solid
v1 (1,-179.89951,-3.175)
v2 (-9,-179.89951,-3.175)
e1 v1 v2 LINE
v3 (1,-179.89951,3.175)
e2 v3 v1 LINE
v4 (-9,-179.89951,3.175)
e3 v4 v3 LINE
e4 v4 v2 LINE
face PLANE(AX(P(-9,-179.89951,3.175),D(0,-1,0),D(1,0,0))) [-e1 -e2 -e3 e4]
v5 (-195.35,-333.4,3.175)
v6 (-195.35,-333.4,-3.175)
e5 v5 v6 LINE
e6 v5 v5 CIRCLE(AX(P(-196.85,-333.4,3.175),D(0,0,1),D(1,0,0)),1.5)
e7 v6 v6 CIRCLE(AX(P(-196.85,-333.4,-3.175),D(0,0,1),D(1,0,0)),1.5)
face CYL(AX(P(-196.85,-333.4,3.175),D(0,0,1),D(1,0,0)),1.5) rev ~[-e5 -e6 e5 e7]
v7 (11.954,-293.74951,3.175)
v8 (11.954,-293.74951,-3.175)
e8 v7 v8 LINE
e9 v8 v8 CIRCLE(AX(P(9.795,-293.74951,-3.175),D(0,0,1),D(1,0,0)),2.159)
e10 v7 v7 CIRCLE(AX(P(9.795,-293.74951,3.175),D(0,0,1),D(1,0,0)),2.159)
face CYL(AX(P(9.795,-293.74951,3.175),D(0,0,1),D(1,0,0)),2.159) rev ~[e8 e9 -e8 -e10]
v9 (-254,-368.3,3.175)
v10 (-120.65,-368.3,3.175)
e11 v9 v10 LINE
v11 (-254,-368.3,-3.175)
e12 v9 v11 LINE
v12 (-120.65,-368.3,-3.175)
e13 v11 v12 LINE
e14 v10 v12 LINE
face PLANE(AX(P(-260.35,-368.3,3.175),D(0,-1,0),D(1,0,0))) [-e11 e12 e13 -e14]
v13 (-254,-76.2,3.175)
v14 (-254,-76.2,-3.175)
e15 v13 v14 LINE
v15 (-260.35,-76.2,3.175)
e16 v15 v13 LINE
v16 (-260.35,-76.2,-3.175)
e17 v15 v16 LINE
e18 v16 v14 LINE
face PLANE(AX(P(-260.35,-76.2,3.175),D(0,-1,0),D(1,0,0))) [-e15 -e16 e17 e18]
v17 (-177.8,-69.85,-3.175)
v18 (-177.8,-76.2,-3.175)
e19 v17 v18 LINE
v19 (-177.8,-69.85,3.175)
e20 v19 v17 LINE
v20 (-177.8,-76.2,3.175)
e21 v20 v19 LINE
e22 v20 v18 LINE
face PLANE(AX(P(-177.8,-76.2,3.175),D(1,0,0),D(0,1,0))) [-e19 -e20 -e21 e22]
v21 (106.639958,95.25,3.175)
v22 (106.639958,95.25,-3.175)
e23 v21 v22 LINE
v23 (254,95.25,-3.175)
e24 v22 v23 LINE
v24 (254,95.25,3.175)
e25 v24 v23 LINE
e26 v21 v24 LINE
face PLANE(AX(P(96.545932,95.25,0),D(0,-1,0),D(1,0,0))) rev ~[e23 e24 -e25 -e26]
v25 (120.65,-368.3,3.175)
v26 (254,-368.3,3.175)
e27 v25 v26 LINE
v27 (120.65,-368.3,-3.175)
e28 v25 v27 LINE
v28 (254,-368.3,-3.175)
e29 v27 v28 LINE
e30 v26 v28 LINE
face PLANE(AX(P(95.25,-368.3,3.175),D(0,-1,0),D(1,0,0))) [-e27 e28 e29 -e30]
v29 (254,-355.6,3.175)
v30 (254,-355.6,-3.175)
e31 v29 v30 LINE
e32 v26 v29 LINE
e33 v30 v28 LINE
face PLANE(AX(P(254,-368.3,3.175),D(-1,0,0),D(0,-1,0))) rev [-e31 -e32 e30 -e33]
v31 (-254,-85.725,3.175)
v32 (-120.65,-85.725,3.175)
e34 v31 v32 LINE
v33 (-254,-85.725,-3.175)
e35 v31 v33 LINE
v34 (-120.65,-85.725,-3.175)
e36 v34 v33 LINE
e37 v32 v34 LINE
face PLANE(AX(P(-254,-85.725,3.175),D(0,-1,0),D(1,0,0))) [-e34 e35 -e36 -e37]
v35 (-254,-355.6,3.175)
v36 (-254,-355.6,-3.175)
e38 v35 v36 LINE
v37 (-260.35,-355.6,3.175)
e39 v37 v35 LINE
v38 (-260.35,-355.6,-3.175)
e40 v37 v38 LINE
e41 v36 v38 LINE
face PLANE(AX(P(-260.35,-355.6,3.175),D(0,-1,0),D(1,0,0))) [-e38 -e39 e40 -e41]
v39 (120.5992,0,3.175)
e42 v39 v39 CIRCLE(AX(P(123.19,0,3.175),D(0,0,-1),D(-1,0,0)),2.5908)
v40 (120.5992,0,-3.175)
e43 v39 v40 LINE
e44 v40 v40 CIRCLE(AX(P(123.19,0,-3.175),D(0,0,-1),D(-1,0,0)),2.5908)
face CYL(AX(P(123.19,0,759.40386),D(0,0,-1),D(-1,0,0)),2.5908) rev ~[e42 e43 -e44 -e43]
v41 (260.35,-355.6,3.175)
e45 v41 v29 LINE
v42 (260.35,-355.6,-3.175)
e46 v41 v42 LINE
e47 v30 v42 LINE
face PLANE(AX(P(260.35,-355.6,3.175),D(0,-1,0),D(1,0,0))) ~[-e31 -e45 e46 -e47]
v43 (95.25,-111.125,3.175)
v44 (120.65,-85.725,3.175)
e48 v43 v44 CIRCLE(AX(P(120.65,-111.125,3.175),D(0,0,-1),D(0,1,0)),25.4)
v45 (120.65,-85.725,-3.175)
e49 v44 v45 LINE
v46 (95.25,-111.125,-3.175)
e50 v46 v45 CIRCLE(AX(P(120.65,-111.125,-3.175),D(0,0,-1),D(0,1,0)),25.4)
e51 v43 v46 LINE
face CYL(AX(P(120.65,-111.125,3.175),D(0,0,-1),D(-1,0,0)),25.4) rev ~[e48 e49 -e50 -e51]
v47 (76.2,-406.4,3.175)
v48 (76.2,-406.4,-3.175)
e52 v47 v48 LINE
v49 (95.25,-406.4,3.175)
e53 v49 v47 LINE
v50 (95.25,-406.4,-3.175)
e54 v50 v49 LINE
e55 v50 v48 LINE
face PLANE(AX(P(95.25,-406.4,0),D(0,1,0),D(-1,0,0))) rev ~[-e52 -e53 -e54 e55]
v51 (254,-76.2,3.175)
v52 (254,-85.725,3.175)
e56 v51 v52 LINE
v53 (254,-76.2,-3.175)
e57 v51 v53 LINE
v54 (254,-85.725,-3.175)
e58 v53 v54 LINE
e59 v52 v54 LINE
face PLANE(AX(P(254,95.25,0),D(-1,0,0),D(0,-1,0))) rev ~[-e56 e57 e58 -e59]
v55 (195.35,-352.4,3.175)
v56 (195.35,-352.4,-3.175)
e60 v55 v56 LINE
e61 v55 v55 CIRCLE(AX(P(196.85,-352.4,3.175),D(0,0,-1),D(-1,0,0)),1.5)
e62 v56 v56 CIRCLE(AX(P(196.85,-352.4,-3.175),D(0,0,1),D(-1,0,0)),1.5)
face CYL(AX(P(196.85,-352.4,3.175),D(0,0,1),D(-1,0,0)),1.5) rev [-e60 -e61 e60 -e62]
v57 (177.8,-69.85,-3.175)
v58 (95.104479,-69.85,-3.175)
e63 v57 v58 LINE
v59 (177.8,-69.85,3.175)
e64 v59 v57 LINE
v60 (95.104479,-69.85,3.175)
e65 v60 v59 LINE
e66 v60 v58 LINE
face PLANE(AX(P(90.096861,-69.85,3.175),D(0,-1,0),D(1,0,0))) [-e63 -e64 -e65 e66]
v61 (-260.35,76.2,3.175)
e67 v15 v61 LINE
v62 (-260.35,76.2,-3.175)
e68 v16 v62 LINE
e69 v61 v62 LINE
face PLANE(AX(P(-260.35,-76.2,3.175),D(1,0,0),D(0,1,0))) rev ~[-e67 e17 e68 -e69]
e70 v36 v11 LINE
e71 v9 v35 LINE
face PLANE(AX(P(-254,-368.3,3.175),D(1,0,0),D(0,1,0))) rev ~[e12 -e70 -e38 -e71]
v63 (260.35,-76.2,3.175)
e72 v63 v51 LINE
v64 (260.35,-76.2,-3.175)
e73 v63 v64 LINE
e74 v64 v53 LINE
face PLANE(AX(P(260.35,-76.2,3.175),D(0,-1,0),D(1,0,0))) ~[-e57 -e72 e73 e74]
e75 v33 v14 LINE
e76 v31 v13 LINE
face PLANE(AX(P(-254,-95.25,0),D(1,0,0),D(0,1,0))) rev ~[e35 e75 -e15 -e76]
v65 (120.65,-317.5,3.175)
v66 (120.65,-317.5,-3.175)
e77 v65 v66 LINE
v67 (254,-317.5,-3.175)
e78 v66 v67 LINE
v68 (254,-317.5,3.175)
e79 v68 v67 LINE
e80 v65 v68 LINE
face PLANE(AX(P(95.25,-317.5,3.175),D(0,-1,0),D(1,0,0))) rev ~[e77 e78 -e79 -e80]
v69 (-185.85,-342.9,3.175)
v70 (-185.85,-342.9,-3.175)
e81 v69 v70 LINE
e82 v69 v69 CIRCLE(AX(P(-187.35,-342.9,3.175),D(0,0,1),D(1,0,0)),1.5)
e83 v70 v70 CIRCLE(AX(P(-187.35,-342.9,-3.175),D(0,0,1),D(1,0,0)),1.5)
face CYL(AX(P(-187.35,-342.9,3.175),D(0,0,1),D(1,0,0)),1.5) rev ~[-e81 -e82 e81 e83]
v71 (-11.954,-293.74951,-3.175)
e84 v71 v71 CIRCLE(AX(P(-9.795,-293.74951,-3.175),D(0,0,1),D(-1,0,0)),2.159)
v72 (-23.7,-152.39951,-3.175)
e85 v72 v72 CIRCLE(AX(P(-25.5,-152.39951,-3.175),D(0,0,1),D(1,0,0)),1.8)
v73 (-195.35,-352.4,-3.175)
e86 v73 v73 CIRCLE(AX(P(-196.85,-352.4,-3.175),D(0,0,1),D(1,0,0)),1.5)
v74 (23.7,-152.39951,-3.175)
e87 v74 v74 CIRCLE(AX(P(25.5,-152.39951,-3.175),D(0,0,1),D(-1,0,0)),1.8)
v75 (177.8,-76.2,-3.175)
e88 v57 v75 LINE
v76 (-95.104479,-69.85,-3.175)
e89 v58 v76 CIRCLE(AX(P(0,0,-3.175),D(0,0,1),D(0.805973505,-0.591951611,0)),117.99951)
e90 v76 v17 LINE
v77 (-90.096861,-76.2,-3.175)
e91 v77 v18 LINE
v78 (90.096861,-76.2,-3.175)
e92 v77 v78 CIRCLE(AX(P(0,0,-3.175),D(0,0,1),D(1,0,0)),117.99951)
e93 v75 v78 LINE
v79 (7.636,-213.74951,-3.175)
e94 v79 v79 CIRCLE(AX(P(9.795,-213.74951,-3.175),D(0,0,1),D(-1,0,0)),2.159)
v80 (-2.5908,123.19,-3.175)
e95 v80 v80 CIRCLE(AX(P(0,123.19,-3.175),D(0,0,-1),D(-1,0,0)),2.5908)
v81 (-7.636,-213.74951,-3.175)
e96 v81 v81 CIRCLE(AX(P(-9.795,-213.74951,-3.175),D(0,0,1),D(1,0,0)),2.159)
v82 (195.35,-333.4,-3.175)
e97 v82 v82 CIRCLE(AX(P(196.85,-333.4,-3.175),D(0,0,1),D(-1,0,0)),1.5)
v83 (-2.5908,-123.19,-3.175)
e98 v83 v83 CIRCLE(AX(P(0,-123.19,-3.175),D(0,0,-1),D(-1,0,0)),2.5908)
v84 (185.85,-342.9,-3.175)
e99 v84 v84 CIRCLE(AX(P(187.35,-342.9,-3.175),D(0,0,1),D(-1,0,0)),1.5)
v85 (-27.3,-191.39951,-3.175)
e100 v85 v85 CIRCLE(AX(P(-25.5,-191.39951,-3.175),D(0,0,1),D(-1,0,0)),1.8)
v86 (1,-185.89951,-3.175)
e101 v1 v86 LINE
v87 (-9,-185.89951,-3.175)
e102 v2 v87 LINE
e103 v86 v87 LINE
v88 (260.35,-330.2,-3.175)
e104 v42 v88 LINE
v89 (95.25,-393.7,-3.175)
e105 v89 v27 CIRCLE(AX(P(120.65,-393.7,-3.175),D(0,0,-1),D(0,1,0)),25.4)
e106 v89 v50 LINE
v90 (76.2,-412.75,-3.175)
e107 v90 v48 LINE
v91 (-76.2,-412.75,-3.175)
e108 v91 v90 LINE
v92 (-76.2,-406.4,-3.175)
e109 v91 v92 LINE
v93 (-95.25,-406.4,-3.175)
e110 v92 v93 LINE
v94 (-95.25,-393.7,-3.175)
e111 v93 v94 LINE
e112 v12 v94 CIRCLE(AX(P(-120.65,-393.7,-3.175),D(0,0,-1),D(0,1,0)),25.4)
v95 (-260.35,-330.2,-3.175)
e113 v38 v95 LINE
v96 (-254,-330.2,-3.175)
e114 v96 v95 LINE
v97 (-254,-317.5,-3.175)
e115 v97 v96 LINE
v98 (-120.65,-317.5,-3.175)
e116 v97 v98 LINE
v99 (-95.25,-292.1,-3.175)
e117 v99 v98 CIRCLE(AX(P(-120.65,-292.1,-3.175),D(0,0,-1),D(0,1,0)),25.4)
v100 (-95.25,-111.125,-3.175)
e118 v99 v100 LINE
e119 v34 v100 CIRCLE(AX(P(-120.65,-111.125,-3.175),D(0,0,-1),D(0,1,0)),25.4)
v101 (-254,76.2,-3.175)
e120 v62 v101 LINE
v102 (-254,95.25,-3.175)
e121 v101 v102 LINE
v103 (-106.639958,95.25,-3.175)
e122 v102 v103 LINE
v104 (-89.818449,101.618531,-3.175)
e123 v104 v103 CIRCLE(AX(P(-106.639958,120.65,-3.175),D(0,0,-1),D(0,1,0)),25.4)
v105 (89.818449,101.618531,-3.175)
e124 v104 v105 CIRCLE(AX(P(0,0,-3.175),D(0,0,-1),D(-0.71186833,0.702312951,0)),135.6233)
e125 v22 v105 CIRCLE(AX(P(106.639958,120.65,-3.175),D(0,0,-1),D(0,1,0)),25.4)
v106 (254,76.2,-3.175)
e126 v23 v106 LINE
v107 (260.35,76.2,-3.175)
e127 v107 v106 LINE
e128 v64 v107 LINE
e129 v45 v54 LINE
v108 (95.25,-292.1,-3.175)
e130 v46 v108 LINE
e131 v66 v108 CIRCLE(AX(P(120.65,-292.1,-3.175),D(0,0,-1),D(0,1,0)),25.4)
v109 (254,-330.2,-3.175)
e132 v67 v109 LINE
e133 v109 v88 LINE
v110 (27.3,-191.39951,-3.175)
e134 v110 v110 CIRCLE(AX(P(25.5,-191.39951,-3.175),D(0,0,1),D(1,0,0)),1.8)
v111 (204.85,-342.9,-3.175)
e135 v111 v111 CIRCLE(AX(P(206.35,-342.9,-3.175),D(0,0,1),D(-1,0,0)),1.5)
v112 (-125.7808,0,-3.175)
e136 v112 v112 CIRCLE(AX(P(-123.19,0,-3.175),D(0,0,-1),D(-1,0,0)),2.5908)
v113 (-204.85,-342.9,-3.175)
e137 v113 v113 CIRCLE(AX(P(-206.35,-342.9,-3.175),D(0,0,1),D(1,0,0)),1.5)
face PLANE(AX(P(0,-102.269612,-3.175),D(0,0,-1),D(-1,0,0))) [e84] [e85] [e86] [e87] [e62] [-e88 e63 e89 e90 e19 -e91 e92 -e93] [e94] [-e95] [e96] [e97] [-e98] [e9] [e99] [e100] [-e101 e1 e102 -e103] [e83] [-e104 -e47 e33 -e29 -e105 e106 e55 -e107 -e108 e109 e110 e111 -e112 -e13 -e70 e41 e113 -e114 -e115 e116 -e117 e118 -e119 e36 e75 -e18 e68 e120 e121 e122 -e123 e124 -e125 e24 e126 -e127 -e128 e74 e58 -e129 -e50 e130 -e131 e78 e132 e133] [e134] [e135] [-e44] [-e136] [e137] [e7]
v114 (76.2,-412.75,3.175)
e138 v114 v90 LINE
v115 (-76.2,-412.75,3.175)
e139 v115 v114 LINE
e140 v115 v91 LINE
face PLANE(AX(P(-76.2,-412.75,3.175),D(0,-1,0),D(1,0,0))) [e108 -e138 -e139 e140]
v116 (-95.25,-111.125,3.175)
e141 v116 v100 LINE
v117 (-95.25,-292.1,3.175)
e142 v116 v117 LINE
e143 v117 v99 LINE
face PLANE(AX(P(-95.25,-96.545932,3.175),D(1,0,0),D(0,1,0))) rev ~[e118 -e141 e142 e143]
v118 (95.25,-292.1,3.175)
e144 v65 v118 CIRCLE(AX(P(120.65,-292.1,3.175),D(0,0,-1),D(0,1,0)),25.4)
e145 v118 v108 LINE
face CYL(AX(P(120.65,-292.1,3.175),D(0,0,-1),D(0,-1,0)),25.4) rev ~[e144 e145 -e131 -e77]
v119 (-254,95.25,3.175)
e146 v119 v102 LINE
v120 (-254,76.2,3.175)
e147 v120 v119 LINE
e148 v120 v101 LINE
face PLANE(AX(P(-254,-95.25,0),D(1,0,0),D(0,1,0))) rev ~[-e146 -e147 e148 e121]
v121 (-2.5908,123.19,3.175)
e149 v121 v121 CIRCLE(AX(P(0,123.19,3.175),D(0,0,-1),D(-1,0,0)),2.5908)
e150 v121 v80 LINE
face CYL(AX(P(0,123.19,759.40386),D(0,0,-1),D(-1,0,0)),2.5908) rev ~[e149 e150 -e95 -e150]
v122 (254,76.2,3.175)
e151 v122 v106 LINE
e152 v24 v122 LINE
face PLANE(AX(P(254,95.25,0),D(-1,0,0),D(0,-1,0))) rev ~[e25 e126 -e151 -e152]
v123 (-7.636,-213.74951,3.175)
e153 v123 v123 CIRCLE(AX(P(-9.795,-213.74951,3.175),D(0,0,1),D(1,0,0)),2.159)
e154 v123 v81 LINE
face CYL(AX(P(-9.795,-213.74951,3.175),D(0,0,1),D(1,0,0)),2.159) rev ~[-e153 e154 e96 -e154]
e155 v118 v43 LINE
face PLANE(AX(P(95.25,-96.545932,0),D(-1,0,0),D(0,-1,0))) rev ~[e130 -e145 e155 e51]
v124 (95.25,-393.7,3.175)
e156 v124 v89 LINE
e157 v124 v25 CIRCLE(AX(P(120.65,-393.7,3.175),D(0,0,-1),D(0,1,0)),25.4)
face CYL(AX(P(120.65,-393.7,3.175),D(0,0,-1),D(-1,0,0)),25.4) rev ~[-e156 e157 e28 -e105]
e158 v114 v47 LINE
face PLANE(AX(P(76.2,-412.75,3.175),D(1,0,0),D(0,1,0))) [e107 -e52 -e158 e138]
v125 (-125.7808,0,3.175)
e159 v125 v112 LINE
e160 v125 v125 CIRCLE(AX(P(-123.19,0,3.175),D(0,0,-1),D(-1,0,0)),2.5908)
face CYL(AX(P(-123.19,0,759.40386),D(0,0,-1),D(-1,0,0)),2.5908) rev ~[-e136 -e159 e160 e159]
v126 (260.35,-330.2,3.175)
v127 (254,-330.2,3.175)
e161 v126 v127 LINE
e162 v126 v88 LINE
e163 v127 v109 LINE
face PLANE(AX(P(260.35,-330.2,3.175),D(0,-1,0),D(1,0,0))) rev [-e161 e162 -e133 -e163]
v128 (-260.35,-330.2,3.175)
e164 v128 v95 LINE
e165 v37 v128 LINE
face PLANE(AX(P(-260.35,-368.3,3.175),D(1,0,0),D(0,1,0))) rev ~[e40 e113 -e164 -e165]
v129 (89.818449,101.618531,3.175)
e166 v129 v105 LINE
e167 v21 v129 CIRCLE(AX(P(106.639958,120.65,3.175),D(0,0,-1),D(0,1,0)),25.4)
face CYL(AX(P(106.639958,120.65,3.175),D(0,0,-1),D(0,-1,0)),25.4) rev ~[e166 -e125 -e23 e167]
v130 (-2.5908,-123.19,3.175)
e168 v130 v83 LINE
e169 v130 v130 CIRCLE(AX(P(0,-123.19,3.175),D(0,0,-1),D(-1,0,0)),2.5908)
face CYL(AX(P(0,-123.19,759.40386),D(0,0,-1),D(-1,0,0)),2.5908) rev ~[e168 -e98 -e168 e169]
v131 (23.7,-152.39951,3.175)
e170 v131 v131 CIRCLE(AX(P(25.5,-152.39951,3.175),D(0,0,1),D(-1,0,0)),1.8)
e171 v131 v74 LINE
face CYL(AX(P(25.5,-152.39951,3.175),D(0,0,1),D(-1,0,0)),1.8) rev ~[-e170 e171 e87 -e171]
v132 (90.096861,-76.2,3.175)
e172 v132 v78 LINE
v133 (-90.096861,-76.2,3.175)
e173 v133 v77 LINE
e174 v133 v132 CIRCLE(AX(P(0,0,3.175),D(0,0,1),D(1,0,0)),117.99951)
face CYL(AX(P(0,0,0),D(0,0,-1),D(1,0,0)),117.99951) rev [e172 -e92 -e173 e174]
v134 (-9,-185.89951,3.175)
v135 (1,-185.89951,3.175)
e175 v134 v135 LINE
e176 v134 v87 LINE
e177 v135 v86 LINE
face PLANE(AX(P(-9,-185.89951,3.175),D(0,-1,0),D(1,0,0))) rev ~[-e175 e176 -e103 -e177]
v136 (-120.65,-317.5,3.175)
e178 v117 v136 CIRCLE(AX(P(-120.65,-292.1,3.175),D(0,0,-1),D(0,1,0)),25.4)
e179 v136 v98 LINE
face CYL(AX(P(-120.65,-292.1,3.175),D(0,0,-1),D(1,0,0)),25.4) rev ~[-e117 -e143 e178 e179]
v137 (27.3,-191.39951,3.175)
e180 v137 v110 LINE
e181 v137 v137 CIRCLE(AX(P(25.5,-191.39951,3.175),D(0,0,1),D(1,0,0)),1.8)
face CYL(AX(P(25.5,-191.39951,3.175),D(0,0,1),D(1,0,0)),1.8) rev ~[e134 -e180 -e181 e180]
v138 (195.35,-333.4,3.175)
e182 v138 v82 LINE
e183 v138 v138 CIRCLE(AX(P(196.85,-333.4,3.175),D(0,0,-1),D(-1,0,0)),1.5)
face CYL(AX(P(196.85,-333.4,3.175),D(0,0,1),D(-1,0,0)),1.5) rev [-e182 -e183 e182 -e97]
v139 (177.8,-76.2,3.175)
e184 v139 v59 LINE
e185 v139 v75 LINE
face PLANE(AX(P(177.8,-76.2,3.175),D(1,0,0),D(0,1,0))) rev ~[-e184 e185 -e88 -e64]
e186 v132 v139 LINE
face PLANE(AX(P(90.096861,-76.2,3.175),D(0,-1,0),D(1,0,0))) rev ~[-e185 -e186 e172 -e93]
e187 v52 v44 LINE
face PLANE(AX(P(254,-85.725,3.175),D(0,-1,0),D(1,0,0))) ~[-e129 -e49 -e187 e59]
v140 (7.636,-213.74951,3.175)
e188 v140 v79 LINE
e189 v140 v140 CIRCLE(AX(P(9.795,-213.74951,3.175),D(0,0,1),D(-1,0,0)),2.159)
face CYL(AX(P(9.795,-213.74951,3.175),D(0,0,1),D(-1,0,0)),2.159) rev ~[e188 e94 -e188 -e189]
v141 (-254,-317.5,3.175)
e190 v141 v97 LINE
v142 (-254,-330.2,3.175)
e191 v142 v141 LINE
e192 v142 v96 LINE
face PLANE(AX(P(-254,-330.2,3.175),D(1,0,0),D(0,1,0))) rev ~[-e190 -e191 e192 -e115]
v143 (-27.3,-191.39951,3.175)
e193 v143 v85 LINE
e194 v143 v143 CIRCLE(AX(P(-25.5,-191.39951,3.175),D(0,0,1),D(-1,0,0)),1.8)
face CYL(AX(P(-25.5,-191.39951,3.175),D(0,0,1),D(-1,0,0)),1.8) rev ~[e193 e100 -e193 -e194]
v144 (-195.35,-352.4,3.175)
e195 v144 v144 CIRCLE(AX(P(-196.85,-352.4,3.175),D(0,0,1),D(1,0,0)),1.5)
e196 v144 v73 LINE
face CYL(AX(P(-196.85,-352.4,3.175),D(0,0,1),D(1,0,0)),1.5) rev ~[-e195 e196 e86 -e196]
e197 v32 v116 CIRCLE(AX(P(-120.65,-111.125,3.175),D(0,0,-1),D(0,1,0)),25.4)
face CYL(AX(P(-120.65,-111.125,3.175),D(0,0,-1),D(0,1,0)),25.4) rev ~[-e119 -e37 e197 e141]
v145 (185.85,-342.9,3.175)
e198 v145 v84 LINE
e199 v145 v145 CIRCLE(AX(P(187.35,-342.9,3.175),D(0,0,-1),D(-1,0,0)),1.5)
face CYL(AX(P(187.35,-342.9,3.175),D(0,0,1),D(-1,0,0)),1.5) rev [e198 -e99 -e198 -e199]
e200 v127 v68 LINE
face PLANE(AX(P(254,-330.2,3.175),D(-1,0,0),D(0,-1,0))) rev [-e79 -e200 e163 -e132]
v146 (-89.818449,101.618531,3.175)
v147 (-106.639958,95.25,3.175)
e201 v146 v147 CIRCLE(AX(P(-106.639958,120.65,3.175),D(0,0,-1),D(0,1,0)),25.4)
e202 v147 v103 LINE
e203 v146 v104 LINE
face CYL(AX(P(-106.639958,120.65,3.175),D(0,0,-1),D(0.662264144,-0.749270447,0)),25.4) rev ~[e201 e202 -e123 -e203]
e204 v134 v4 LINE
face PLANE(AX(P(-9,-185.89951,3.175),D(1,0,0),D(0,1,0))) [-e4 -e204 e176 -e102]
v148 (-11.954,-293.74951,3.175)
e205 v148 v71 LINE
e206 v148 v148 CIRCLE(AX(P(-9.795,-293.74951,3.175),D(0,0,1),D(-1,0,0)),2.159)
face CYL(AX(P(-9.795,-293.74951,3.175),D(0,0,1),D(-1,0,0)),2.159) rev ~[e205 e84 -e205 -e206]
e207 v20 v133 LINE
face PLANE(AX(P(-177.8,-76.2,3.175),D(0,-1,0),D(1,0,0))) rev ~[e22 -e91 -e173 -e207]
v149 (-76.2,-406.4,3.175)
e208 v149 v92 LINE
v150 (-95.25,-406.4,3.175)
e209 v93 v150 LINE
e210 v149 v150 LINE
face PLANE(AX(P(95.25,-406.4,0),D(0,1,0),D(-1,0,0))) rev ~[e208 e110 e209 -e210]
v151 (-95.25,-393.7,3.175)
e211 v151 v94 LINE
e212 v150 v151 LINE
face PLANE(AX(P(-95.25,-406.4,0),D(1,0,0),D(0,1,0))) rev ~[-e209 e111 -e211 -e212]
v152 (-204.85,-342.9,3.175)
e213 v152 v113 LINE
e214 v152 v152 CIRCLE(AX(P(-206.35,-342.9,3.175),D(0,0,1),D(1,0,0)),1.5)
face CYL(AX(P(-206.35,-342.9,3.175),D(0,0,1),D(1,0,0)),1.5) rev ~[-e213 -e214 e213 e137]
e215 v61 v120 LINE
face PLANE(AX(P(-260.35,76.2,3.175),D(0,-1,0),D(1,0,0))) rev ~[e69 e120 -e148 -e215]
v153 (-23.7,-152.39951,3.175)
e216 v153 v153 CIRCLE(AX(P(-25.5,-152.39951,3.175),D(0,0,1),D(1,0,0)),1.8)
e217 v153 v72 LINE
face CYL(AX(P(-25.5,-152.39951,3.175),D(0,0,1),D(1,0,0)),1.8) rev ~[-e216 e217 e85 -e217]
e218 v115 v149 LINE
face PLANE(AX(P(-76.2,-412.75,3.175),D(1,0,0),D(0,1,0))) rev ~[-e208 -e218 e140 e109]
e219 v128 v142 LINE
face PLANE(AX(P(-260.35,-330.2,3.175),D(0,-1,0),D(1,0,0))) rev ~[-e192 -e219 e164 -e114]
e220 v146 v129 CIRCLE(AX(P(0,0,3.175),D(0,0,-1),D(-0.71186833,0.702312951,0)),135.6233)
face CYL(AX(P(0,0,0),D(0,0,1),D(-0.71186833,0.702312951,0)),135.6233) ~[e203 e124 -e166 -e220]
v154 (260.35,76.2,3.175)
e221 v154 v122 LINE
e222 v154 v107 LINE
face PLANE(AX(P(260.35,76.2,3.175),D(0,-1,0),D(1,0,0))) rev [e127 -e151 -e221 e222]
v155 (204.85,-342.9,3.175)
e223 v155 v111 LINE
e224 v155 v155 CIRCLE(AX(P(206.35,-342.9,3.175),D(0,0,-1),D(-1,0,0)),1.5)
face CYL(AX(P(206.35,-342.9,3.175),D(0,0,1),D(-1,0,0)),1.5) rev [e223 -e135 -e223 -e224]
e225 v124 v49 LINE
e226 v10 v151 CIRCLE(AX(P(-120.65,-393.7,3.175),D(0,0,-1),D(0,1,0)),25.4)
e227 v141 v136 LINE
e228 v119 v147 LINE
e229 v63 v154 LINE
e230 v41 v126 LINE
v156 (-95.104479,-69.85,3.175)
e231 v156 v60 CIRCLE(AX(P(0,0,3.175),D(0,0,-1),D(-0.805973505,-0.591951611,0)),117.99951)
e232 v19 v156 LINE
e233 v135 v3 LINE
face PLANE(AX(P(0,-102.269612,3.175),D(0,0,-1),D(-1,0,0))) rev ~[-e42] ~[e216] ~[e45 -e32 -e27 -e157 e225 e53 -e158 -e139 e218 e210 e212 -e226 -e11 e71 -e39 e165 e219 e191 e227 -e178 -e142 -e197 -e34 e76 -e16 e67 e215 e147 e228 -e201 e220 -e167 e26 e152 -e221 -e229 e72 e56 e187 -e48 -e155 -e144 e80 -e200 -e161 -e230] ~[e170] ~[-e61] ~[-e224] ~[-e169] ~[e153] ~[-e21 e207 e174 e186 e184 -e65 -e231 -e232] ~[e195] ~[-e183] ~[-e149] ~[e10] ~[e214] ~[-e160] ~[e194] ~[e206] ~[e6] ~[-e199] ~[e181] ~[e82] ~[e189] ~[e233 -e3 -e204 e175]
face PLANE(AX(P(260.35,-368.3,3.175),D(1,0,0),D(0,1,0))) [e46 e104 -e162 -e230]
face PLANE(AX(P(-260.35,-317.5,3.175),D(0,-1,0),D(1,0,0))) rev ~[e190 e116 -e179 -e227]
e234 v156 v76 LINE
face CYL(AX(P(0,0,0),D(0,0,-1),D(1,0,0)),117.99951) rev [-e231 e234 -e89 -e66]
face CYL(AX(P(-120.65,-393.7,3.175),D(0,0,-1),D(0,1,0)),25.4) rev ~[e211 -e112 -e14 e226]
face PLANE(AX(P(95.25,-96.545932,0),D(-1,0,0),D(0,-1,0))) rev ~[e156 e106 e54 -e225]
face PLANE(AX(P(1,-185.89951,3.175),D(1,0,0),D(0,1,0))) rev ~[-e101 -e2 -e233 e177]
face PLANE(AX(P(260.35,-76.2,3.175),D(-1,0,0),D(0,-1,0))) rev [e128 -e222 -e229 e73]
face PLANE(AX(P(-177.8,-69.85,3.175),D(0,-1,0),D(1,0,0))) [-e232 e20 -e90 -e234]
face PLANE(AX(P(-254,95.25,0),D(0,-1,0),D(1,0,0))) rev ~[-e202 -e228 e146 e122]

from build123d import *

# Parameters (mm, degrees)
MAIN_BODY_SKETCH_R     = 117.99951
MAIN_BODY_DEPTH        = 3.175
TABS_SKETCH_W          = 6.35
TABS_SKETCH_H          = 152.4
TABS_SKETCH_W_2        = 152.4
TABS_SKETCH_H_2        = 6.35
OUTSIDE_TABS_DEPTH     = 6.35
F_6_0_204_TUBE_MOUNT_D = 5.1816
SKETCH12_W             = 165.1
SKETCH12_H             = 50.8
BOSS_EXTRUDE1_DEPTH    = 6.35
SKETCH13_R             = 1.5
CUT_EXTRUDE1_DEPTH     = 489.042014073
SKETCH14_W             = 6.35
SKETCH14_H             = 12.7
CUT_EXTRUDE2_DEPTH     = 489.042014073
SKETCH15_W             = 87.70313901
SKETCH15_H             = 6.35
CUT_EXTRUDE3_DEPTH     = 489.042014073
SKETCH16_R             = 1.8
SKETCH16_R_2           = 2.159
SKETCH16_W             = 10
SKETCH16_H             = 6
CUT_EXTRUDE4_DEPTH     = 489.042014073
SKETCH18_W             = 158.75
SKETCH18_H             = 10.820932089
CUT_EXTRUDE6_DEPTH     = 489.042014073
FILLET1_R              = 25.4


with BuildPart() as part:
    # Main Body Sketch → Main Body (new, symmetric)
    with BuildSketch(Plane.XY):
        with BuildLine():
            Line((-96.545932089, -95.25), (-254, -95.25))
            Line((-254, -95.25), (-254, 95.25))
            Line((-254, 95.25), (-96.545932089, 95.25))
            ThreePointArc((-96.545932089, 95.25), (0, 135.6233), (96.545932089, 95.25))
            Line((96.545932089, 95.25), (254, 95.25))
            Line((254, 95.25), (254, -95.25))
            Line((254, -95.25), (96.545932089, -95.25))
            ThreePointArc((96.545932089, -95.25), (95.900155117, -95.900155117), (95.25, -96.545932089))
            Line((95.25, -96.545932089), (95.25, -406.4))
            Line((95.25, -406.4), (-95.25, -406.4))
            Line((-95.25, -406.4), (-95.25, -96.545932089))
            ThreePointArc((-95.25, -96.545932089), (-95.900155117, -95.900155117), (-96.545932089, -95.25))
        make_face()
        Circle(MAIN_BODY_SKETCH_R, mode=Mode.SUBTRACT)
    extrude(amount=MAIN_BODY_DEPTH, both=True)

    # Tabs Sketch → Outside Tabs (add)
    with BuildSketch(Plane.XY.offset(3.175)):
        with Locations((-257.175, 0)):
            Rectangle(TABS_SKETCH_W, TABS_SKETCH_H)
        with Locations((0, -409.575)):
            Rectangle(TABS_SKETCH_W_2, TABS_SKETCH_H_2)
    outside_tabs = extrude(amount=-OUTSIDE_TABS_DEPTH)

    # Outside Tabs Mirror: Outside Tabs across plane
    add(outside_tabs.mirror(Plane(origin=(0, 0, 0), x_dir=(0, 0, 1), z_dir=(1, 0, 0))))

    # #6 (0.204) Tube Mount (through all)
    with Locations(Plane.XY.offset(3.175)):
        with Locations((0, -123.19), (123.19, 0), (0, 123.19), (-123.19, 0)):
            Hole(F_6_0_204_TUBE_MOUNT_D / 2)

    # Sketch12 → Boss-Extrude1 (add)
    with BuildSketch(Plane.XY.offset(3.175)):
        with Locations((-177.8, -342.9)):
            Rectangle(SKETCH12_W, SKETCH12_H)
        with Locations((177.8, -342.9)):
            Rectangle(SKETCH12_W, SKETCH12_H)
    extrude(amount=-BOSS_EXTRUDE1_DEPTH)

    # Sketch13 → Cut-Extrude1 (cut, through all)
    with BuildSketch(Plane.XY.offset(3.175)):
        with Locations((-196.85, -333.4)):
            Circle(SKETCH13_R)
        with Locations((-187.35, -342.9)):
            Circle(SKETCH13_R)
        with Locations((-196.85, -352.4)):
            Circle(SKETCH13_R)
        with Locations((-206.35, -342.9)):
            Circle(SKETCH13_R)
    cut_extrude1 = extrude(amount=-CUT_EXTRUDE1_DEPTH, mode=Mode.SUBTRACT)

    # Mirror2: Cut-Extrude1 across plane
    add(cut_extrude1.mirror(Plane(origin=(0, 0, 0), x_dir=(0, 0, 1), z_dir=(1, 0, 0))), mode=Mode.SUBTRACT)

    # Sketch14 → Cut-Extrude2 (cut, through all)
    with BuildSketch(Plane.XY.offset(3.175)):
        with Locations((-257.175, -323.85)):
            Rectangle(SKETCH14_W, SKETCH14_H)
        with Locations((-257.175, -361.95)):
            Rectangle(SKETCH14_W, SKETCH14_H)
    cut_extrude2 = extrude(amount=-CUT_EXTRUDE2_DEPTH, mode=Mode.SUBTRACT)

    # Mirror3: Cut-Extrude2 across plane
    add(cut_extrude2.mirror(Plane(origin=(0, 0, 0), x_dir=(0, 0, 1), z_dir=(1, 0, 0))), mode=Mode.SUBTRACT)

    # Sketch15 → Cut-Extrude3 (cut, through all)
    with BuildSketch(Plane.XY.offset(3.175)):
        with Locations((-133.948430495, -73.025)):
            Rectangle(SKETCH15_W, SKETCH15_H)
        with Locations((133.948430495, -73.025)):
            Rectangle(SKETCH15_W, SKETCH15_H)
    extrude(amount=-CUT_EXTRUDE3_DEPTH, mode=Mode.SUBTRACT)

    # Sketch16 → Cut-Extrude4 (cut, through all)
    with BuildSketch(Plane.XY.offset(3.175)):
        with Locations((-25.5, -152.39951)):
            Circle(SKETCH16_R)
        with Locations(Location((-25.5, -191.39951, 0), (0, 0, 180))):
            Circle(SKETCH16_R)
        with Locations((25.5, -191.39951)):
            Circle(SKETCH16_R)
        with Locations(Location((25.5, -152.39951, 0), (0, 0, 180))):
            Circle(SKETCH16_R)
        with Locations((-9.795, -213.74951)):
            Circle(SKETCH16_R_2)
        with Locations(Location((-9.795, -293.74951, 0), (0, 0, 180))):
            Circle(SKETCH16_R_2)
        with Locations(Location((9.795, -213.74951, 0), (0, 0, 180))):
            Circle(SKETCH16_R_2)
        with Locations((9.795, -293.74951)):
            Circle(SKETCH16_R_2)
        with Locations((-4, -182.89951)):
            Rectangle(SKETCH16_W, SKETCH16_H)
    extrude(amount=-CUT_EXTRUDE4_DEPTH, mode=Mode.SUBTRACT)

    # Sketch18 → Cut-Extrude6 (cut, through all)
    with BuildSketch(Plane.XY.offset(3.175)):
        with Locations((-174.625, -91.135466045)):
            Rectangle(SKETCH18_W, SKETCH18_H)
    cut_extrude6 = extrude(amount=-CUT_EXTRUDE6_DEPTH, mode=Mode.SUBTRACT)

    # Mirror4: Cut-Extrude6 across plane
    add(cut_extrude6.mirror(Plane(origin=(0, 0, 0), x_dir=(0, 0, 1), z_dir=(1, 0, 0))), mode=Mode.SUBTRACT)

    # Fillet1
    fillet1_edges = [part.edges().sort_by_distance(p)[0] for p in [
        (-95.25, -317.5, 0),
        (-95.25, -368.3, 0),
        (95.25, -317.5, 0),
        (95.25, -368.3, 0),
        (-96.545932089, 95.25, 0),
        (96.545932089, 95.25, 0),
        (-95.25, -85.725, 0),
        (95.25, -85.725, 0),
    ]]
    fillet(fillet1_edges, radius=FILLET1_R)


solid = part.part
